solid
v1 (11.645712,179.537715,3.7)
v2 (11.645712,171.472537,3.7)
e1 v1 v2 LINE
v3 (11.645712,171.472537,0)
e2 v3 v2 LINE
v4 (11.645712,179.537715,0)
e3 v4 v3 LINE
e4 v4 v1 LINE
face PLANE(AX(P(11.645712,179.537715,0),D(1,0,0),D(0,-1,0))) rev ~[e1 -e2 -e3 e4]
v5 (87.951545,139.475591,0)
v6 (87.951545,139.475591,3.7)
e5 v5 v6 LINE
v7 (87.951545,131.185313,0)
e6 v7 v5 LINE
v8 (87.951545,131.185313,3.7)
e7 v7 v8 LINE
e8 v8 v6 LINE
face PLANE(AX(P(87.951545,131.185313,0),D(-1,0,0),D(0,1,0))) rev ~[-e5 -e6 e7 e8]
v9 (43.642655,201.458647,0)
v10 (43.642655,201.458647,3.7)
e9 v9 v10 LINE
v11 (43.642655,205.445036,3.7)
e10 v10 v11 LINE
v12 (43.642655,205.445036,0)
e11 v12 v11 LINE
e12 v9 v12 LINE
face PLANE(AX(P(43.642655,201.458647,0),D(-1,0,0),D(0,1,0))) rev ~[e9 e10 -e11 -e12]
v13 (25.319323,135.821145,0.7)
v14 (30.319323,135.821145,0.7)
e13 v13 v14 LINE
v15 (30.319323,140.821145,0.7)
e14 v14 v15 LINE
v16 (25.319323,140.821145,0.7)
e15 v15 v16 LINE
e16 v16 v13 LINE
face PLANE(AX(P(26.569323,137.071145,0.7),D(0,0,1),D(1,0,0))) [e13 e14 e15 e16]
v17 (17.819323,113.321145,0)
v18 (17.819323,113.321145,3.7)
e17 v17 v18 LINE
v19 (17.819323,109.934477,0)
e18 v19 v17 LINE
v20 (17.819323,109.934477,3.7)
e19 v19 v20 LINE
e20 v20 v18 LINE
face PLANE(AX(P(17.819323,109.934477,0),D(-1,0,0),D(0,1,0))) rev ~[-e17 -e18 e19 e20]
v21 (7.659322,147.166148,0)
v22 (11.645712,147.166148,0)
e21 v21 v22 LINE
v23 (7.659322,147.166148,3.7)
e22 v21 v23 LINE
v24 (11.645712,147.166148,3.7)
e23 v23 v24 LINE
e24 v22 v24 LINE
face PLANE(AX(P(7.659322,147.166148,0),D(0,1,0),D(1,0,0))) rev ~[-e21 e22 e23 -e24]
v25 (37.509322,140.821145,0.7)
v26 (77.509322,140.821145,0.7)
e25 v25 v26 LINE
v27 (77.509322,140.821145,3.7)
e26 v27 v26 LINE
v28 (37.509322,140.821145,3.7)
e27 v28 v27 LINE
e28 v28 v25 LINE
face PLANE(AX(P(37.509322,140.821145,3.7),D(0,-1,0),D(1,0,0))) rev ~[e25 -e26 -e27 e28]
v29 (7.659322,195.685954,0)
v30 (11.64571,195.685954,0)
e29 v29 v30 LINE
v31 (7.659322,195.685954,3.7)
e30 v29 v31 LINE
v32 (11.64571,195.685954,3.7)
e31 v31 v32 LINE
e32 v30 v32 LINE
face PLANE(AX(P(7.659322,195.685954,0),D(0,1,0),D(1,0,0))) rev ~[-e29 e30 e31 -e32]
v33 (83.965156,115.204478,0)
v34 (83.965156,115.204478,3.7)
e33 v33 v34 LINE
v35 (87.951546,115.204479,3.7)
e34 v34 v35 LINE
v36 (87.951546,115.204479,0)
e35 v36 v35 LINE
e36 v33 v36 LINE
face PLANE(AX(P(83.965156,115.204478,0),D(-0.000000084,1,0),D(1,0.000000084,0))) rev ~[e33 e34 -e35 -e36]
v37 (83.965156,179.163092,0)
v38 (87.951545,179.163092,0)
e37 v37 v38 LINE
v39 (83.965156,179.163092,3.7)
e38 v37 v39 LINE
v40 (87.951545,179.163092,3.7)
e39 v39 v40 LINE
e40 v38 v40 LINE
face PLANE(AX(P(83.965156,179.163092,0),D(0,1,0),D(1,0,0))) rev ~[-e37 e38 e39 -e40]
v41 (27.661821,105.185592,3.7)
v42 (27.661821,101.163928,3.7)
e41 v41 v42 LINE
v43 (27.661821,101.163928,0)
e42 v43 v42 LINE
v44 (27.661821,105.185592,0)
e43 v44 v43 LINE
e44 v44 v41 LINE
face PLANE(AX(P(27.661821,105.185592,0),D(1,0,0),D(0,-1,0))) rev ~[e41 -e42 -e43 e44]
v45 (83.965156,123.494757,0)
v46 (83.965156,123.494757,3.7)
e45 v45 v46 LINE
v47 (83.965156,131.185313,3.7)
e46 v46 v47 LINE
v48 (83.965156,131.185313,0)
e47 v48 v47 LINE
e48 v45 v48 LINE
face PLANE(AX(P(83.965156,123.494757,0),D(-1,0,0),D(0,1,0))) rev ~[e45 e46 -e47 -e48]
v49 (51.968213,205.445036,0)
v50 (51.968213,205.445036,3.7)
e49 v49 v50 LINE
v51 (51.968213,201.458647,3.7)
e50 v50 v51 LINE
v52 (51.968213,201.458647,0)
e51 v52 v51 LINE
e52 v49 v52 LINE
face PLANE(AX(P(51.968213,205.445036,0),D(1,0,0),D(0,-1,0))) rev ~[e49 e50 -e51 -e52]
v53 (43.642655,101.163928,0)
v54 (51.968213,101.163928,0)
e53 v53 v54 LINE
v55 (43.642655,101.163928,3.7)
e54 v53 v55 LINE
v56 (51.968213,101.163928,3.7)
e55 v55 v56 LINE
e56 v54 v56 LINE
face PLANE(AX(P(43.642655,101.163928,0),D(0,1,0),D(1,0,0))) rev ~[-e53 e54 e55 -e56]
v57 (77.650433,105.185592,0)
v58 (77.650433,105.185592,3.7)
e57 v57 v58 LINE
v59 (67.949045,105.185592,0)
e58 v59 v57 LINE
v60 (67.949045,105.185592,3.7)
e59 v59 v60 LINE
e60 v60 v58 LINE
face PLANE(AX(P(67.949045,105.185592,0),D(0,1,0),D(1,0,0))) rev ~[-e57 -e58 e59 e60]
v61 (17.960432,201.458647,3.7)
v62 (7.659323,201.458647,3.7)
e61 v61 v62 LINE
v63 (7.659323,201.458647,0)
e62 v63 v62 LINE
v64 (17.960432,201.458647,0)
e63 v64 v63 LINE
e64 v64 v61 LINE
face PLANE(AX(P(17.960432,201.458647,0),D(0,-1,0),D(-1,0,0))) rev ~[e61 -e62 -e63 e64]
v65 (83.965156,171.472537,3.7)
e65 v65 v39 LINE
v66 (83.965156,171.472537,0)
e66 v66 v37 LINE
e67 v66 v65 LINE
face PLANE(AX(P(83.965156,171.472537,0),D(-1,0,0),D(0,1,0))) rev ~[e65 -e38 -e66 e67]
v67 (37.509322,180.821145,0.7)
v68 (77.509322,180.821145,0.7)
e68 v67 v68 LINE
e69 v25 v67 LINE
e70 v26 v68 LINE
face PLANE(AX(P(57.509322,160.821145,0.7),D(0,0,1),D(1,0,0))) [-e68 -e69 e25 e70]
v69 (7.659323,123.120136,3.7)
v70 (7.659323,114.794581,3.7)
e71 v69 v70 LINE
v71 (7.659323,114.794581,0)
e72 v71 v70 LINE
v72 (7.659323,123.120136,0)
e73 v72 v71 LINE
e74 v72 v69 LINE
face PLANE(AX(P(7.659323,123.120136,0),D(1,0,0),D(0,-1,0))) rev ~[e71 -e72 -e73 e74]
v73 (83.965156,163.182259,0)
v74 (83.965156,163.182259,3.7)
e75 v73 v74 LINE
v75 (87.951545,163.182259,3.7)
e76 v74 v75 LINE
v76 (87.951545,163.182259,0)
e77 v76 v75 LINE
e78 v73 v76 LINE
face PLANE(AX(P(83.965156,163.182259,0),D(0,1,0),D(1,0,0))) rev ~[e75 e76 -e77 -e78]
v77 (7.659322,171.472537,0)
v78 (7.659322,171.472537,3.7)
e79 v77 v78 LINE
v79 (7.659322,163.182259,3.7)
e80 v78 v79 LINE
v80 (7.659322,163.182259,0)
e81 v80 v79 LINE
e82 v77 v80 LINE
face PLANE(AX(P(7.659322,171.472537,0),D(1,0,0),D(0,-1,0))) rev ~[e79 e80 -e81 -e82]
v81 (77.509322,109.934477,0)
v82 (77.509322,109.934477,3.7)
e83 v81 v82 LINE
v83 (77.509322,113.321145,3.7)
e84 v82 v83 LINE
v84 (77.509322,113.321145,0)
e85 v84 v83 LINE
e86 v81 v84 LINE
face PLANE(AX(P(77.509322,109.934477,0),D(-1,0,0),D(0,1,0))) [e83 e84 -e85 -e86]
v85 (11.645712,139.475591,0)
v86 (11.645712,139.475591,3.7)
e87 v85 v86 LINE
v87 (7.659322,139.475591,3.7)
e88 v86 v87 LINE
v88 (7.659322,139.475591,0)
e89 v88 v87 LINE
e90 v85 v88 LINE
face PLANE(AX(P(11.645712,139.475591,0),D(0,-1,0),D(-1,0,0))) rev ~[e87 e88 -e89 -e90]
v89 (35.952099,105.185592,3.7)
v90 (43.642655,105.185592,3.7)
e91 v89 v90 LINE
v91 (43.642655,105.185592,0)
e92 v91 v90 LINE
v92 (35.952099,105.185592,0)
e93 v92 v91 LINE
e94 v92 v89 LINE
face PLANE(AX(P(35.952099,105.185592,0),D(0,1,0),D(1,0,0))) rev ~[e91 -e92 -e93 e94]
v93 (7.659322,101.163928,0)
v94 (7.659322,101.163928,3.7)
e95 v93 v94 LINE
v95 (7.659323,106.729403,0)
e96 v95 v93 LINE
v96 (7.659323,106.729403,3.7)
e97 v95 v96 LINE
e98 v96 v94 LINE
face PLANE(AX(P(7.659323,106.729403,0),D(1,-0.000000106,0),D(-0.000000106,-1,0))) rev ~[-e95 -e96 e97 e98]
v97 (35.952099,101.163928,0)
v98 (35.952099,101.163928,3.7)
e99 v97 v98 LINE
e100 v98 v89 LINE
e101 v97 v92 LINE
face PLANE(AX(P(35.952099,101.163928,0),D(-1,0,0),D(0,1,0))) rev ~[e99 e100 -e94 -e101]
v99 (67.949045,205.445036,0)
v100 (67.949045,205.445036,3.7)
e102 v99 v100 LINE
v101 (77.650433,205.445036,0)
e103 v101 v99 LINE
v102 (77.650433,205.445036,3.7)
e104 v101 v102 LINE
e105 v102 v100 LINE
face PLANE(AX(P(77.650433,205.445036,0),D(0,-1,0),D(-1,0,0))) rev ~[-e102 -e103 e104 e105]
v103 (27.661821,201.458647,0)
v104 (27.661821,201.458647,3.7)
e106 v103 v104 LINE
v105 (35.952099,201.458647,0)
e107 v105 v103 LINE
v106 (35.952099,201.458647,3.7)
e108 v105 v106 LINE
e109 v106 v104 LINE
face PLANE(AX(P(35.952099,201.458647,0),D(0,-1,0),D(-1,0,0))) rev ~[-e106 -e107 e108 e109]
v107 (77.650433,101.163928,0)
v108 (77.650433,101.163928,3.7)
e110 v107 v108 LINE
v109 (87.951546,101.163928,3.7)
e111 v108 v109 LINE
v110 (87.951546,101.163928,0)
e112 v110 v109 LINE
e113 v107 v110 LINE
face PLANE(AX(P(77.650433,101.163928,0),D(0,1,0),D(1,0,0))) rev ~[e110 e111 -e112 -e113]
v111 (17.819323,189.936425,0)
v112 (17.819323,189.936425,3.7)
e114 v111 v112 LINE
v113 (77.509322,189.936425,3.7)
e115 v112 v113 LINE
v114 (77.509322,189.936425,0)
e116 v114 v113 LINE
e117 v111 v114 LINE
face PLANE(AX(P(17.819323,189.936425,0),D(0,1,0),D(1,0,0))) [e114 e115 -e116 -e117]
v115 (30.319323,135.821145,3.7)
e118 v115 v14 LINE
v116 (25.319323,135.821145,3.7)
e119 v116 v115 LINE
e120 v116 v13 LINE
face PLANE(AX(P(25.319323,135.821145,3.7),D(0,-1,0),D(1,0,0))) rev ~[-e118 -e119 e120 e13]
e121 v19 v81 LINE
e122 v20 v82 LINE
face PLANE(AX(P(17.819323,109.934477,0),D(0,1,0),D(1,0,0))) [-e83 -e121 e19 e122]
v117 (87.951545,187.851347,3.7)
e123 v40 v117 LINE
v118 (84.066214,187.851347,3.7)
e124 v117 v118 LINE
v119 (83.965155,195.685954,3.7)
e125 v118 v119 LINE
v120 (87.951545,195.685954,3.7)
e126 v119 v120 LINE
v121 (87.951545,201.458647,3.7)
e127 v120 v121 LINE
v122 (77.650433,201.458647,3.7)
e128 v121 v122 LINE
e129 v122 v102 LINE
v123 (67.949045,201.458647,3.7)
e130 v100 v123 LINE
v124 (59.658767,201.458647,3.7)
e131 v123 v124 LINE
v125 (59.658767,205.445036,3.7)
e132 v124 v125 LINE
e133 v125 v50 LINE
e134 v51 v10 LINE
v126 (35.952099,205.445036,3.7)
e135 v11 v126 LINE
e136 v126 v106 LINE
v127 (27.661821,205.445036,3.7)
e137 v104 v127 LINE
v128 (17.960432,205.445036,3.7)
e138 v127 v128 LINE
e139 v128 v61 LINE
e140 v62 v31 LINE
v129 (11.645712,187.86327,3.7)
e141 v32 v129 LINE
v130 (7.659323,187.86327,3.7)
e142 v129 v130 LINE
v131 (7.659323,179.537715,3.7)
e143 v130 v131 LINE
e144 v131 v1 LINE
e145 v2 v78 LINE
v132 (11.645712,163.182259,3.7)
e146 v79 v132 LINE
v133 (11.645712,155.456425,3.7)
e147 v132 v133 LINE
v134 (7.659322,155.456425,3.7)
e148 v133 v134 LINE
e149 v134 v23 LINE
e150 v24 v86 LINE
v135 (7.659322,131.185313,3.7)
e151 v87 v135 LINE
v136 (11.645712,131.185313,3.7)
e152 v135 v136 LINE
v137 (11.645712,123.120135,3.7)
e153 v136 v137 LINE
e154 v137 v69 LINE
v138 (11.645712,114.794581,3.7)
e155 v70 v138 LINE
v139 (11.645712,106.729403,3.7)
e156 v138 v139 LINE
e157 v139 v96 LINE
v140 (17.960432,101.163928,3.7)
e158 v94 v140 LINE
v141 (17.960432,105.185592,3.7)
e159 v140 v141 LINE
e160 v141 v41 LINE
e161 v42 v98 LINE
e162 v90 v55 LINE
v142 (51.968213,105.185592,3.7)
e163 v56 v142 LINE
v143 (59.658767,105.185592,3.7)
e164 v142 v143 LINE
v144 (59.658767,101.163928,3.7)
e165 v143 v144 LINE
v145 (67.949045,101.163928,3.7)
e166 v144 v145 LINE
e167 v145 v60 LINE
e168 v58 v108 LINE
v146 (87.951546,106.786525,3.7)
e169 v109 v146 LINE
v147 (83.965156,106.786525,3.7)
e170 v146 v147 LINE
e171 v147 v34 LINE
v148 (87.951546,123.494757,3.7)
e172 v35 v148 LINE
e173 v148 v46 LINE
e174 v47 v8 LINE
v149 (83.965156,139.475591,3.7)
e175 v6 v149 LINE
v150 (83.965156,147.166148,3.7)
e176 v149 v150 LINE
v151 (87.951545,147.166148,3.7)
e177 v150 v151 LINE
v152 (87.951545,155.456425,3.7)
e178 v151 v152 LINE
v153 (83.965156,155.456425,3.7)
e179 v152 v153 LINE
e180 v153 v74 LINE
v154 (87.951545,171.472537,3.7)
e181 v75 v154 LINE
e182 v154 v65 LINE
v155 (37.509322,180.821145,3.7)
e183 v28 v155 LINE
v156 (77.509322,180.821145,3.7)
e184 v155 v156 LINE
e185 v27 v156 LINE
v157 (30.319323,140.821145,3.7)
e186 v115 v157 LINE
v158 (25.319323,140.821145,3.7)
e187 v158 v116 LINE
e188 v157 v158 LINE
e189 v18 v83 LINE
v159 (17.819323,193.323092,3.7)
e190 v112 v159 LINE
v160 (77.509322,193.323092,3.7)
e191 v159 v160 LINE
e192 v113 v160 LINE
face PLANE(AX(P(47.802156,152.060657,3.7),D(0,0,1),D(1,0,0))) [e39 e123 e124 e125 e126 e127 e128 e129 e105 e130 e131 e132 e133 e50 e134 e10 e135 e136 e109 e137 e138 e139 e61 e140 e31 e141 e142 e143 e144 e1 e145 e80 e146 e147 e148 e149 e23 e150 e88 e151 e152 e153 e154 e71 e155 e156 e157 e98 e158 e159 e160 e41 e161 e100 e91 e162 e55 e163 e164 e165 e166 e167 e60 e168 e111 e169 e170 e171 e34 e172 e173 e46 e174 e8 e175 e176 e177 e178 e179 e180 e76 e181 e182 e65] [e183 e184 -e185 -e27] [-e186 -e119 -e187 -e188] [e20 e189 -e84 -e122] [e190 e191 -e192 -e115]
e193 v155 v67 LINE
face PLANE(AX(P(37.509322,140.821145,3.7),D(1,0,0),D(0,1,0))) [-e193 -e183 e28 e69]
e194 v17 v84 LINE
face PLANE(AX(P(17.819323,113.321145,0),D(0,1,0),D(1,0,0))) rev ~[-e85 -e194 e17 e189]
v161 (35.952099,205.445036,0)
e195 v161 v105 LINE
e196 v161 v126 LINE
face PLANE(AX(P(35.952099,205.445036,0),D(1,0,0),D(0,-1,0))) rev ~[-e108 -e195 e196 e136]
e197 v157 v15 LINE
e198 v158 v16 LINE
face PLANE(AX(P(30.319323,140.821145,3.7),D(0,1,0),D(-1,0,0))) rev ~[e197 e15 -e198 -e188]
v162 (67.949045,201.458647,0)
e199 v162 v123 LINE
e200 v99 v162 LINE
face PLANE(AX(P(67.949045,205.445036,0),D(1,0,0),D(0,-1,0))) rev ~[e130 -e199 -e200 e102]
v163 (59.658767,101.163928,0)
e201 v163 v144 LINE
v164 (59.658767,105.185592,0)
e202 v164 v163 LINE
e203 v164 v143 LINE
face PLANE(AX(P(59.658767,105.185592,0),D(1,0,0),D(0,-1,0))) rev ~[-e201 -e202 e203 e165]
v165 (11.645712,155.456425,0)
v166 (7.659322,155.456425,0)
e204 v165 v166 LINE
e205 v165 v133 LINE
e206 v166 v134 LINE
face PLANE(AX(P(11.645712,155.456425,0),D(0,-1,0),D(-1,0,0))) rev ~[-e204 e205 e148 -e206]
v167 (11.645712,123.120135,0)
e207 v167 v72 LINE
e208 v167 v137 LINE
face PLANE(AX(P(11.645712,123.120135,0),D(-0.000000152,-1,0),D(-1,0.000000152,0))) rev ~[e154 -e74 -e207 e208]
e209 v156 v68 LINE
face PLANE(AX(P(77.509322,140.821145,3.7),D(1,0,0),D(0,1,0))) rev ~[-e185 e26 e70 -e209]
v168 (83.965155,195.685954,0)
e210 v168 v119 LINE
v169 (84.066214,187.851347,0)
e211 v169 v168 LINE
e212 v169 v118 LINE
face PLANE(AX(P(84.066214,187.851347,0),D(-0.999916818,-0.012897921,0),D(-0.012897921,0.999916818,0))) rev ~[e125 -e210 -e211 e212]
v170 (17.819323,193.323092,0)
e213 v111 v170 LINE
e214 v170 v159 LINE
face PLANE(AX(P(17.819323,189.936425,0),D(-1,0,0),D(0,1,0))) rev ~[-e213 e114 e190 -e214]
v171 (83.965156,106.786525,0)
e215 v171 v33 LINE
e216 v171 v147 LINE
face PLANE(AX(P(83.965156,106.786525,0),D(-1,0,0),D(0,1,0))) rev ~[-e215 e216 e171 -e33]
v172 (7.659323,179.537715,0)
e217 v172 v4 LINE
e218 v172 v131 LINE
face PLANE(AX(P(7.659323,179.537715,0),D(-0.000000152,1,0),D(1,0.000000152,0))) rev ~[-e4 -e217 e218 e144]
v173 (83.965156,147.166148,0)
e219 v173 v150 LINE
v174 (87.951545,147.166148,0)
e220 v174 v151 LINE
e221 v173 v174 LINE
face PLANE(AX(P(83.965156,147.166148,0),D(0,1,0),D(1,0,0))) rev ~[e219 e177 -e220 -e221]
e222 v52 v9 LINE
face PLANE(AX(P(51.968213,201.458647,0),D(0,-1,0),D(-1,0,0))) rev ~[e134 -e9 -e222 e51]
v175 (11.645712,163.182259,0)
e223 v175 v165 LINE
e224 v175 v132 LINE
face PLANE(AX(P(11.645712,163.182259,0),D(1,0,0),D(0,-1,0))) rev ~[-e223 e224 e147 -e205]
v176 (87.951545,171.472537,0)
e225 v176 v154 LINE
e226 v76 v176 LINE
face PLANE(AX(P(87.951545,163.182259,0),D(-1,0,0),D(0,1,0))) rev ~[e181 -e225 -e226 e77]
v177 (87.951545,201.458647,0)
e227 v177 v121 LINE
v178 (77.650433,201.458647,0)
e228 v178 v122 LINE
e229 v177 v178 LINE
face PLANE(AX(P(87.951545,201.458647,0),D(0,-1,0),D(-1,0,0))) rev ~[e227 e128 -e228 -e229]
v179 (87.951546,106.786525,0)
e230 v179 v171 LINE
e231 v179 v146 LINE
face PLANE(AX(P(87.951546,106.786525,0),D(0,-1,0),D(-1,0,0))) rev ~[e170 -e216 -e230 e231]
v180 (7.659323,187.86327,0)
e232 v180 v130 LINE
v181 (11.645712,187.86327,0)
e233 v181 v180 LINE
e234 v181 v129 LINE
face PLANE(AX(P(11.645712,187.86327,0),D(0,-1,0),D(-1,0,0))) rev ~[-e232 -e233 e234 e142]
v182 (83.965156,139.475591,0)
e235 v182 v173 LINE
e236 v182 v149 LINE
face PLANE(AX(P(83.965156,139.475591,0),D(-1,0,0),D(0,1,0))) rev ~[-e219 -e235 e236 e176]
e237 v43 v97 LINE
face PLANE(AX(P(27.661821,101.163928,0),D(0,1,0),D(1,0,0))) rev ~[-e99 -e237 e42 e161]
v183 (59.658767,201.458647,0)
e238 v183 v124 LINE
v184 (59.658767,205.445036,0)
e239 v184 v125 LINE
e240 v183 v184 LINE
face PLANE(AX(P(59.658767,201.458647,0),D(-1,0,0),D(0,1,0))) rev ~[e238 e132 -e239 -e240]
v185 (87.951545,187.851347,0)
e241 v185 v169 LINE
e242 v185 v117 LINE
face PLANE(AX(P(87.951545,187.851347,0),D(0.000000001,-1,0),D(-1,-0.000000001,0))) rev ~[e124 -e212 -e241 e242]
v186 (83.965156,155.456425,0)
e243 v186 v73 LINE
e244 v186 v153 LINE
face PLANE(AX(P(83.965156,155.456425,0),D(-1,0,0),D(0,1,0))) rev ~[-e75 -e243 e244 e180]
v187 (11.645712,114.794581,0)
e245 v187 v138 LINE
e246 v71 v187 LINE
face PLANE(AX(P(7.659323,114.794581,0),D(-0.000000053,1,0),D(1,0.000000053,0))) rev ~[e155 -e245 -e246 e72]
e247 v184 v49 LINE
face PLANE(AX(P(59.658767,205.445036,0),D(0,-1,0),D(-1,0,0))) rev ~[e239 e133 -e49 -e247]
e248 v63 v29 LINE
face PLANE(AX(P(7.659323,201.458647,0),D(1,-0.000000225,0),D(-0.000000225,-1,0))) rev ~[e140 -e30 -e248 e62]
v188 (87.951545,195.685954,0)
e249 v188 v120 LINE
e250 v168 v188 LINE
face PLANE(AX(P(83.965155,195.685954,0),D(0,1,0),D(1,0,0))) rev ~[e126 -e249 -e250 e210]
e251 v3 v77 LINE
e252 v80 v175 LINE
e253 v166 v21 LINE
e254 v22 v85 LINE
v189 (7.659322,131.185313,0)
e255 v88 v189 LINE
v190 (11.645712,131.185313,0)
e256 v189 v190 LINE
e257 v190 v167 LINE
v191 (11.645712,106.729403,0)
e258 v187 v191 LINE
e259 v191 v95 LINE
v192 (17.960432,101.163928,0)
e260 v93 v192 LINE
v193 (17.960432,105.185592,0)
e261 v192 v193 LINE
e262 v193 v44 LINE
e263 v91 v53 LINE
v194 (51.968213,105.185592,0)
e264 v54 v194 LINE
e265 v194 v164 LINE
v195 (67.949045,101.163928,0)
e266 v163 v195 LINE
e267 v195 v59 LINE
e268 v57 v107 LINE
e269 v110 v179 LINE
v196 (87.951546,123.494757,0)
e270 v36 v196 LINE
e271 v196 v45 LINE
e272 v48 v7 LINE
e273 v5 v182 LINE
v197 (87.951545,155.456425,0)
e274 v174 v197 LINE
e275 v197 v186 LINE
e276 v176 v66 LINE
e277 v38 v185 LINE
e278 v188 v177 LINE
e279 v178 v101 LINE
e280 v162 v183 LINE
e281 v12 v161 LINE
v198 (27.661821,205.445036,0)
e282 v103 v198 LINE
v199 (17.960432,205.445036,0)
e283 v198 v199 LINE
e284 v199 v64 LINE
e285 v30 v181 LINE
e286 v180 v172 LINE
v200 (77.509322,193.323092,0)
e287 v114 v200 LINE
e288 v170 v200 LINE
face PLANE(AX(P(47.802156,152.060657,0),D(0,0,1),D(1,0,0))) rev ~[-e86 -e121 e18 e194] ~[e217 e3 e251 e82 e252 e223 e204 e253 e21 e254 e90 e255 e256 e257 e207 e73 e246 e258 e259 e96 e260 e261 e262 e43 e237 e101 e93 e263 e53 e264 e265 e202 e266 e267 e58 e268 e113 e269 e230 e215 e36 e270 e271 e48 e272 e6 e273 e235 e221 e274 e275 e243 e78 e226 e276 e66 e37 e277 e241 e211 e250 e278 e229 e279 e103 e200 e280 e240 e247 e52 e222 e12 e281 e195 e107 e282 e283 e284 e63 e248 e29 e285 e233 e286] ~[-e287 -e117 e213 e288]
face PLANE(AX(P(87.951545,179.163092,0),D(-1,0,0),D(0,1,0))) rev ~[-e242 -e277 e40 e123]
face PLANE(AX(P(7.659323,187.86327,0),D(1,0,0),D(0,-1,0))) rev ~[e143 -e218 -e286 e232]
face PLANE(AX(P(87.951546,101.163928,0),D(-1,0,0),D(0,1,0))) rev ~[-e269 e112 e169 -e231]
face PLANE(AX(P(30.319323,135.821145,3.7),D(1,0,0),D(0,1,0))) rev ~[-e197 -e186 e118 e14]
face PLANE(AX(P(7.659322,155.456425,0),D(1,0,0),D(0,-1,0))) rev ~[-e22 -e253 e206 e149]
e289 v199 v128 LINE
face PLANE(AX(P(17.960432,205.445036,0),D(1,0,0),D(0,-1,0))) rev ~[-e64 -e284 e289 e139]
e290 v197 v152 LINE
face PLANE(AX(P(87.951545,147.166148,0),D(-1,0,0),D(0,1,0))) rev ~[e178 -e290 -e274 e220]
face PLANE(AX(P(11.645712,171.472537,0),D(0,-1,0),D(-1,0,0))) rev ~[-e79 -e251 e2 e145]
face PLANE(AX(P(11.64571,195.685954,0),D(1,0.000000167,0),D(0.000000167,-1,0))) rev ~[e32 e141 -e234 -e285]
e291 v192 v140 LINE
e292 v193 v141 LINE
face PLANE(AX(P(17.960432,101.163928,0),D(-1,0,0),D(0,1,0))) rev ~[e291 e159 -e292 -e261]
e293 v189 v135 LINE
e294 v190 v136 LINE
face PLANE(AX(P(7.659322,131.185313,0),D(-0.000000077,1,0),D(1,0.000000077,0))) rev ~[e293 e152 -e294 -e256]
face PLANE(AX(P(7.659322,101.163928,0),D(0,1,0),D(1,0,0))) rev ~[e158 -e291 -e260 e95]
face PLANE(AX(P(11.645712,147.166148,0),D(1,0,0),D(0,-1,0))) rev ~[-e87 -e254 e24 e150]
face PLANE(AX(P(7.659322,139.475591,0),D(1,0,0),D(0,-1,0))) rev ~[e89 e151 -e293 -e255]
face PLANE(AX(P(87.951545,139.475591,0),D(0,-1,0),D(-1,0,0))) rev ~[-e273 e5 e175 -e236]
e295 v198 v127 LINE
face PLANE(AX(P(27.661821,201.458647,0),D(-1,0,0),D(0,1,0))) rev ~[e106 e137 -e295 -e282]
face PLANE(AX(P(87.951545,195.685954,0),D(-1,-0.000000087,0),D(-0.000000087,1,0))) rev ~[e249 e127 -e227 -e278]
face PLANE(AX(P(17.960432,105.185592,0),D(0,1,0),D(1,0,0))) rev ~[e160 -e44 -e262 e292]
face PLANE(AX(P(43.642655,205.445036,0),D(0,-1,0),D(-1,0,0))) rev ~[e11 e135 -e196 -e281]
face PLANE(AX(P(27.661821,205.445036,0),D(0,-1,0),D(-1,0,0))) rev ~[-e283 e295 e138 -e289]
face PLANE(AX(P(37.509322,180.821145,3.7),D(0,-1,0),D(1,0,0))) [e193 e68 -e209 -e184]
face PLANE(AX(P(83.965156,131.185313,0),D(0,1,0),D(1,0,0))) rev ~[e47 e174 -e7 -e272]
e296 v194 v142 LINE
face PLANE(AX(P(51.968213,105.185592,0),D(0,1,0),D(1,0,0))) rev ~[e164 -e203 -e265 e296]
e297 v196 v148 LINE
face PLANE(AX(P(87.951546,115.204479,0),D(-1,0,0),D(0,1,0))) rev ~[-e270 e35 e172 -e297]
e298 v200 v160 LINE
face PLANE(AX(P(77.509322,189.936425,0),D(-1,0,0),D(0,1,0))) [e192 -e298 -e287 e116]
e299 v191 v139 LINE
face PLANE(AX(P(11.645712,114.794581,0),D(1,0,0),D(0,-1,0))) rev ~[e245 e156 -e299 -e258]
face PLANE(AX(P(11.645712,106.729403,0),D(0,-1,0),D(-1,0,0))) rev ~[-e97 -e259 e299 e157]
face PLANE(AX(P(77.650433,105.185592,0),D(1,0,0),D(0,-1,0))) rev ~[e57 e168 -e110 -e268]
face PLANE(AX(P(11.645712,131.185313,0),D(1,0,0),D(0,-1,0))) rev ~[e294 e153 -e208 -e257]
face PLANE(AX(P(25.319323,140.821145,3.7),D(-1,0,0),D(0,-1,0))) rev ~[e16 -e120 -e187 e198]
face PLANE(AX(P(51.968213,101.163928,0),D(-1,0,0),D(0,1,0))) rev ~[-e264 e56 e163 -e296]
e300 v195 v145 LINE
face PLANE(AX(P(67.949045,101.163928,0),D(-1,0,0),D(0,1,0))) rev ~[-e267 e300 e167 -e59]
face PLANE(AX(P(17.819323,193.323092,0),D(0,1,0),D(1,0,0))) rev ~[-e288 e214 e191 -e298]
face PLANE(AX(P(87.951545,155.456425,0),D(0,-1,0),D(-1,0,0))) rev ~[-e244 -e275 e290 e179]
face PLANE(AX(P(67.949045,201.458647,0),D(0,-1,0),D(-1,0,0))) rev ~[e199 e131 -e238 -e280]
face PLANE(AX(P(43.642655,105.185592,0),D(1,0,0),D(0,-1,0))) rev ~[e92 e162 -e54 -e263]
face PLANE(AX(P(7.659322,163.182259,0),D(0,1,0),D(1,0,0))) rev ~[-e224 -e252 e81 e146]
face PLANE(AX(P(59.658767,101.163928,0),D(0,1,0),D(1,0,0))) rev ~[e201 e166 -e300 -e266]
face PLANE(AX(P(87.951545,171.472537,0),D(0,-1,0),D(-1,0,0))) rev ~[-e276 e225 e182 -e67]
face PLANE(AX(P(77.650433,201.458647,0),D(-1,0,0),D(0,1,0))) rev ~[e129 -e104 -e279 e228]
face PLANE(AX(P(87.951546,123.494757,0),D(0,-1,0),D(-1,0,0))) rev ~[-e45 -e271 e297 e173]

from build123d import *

# Parameters (mm, degrees)
MODEL_W             = 59.689998908
MODEL_H             = 3.386668819
MODEL_H_2           = 3.3866668
BOSS_EXTRUDE1_DEPTH = 3.7
SKETCH1_W           = 2.5
SKETCH1_H           = 2.5
SKETCH1_W_2         = 40
SKETCH1_H_2         = 40
CUT_EXTRUDE1_DEPTH  = 3


with BuildPart() as part:
    # Model → Boss-Extrude1 (new body)
    with BuildSketch(Plane.XY):
        Polygon((7.659321824, 131.185313162), (11.645711781, 131.185313467), (11.645711781, 123.120135193), (7.659323163, 123.120135799), (7.659323163, 114.794580784), (11.645711704, 114.794580995), (11.645711704, 106.729402721), (7.659323085, 106.729402721), (7.659322496, 101.163927511), (17.960431856, 101.163927511), (17.960431856, 105.185592023), (27.661820742, 105.185592023), (27.661820742, 101.163927511), (35.952098518, 101.163927511), (35.952098518, 105.185592023), (43.642655148, 105.185592023), (43.642655148, 101.163927511), (51.968212855, 101.163927511), (51.968212855, 105.185592023), (59.658766793, 105.185592023), (59.658766793, 101.163927511), (67.949044569, 101.163927511), (67.949044569, 105.185592023), (77.650433456, 105.185592023), (77.650433456, 101.163927511), (87.951545673, 101.163927511), (87.951545673, 106.78652537), (83.965155709, 106.78652537), (83.965155709, 115.20447842), (87.951545673, 115.204478756), (87.951545673, 123.494756532), (83.965155708, 123.494756532), (83.965155708, 131.185313162), (87.951545168, 131.185313162), (87.951545168, 139.475590938), (83.965156213, 139.475590938), (83.965156213, 147.166147568), (87.951545168, 147.166147568), (87.951545168, 155.456425344), (83.965156213, 155.456425344), (83.965156213, 163.182259213), (87.951545168, 163.182259213), (87.951545168, 171.472536989), (83.965156213, 171.472536989), (83.965156213, 179.163092274), (87.951545169, 179.163092274), (87.951545169, 187.851347209), (84.066213746, 187.851347204), (83.965155204, 195.685953684), (87.951545169, 195.685953684), (87.951544665, 201.458647414), (77.650433455, 201.458647414), (77.650433455, 205.445036033), (67.949044569, 205.445036033), (67.949044569, 201.458647414), (59.658766793, 201.458647414), (59.658766793, 205.445036033), (51.968212854, 205.445036033), (51.968212854, 201.458647414), (43.642655148, 201.458647414), (43.642655148, 205.445036033), (35.952098517, 205.445036033), (35.952098517, 201.458647414), (27.661820742, 201.458647414), (27.661820742, 205.445036033), (17.960431855, 205.445036033), (17.960431855, 201.458647414), (7.659323162, 201.458647414), (7.659321865, 195.685953684), (11.645710483, 195.685953684), (11.645711788, 187.863269672), (7.65932317, 187.863269672), (7.65932317, 179.537714657), (11.645711788, 179.537715263), (11.645711788, 171.472536989), (7.659321824, 171.472536989), (7.659321824, 163.182259214), (11.645711789, 163.182259214), (11.645711789, 155.456425344), (7.659321824, 155.456425344), (7.659321824, 147.166147568), (11.645711789, 147.166147568), (11.645711789, 139.475590938), (7.659321824, 139.475590938), align=None)
        with Locations((47.664322352, 111.627811013)):
            Rectangle(MODEL_W, MODEL_H, mode=Mode.SUBTRACT)
        with Locations((47.664322352, 191.629758602)):
            Rectangle(MODEL_W, MODEL_H_2, mode=Mode.SUBTRACT)
    extrude(amount=BOSS_EXTRUDE1_DEPTH)

    # Sketch1 → Cut-Extrude1 (cut)
    with BuildSketch(Plane.XY.offset(3.7)):
        with Locations((26.569322898, 137.071145422)):
            Rectangle(SKETCH1_W, SKETCH1_H)
        Polygon((27.819322898, 138.321145422), (27.819322898, 135.821145422), (30.319322898, 135.821145422), (30.319322898, 140.821145422), (25.319322898, 140.821145422), (25.319322898, 138.321145422), align=None)
        with Locations((57.509321806, 160.821145422)):
            Rectangle(SKETCH1_W_2, SKETCH1_H_2)
    extrude(amount=-CUT_EXTRUDE1_DEPTH, mode=Mode.SUBTRACT)


solid = part.part
